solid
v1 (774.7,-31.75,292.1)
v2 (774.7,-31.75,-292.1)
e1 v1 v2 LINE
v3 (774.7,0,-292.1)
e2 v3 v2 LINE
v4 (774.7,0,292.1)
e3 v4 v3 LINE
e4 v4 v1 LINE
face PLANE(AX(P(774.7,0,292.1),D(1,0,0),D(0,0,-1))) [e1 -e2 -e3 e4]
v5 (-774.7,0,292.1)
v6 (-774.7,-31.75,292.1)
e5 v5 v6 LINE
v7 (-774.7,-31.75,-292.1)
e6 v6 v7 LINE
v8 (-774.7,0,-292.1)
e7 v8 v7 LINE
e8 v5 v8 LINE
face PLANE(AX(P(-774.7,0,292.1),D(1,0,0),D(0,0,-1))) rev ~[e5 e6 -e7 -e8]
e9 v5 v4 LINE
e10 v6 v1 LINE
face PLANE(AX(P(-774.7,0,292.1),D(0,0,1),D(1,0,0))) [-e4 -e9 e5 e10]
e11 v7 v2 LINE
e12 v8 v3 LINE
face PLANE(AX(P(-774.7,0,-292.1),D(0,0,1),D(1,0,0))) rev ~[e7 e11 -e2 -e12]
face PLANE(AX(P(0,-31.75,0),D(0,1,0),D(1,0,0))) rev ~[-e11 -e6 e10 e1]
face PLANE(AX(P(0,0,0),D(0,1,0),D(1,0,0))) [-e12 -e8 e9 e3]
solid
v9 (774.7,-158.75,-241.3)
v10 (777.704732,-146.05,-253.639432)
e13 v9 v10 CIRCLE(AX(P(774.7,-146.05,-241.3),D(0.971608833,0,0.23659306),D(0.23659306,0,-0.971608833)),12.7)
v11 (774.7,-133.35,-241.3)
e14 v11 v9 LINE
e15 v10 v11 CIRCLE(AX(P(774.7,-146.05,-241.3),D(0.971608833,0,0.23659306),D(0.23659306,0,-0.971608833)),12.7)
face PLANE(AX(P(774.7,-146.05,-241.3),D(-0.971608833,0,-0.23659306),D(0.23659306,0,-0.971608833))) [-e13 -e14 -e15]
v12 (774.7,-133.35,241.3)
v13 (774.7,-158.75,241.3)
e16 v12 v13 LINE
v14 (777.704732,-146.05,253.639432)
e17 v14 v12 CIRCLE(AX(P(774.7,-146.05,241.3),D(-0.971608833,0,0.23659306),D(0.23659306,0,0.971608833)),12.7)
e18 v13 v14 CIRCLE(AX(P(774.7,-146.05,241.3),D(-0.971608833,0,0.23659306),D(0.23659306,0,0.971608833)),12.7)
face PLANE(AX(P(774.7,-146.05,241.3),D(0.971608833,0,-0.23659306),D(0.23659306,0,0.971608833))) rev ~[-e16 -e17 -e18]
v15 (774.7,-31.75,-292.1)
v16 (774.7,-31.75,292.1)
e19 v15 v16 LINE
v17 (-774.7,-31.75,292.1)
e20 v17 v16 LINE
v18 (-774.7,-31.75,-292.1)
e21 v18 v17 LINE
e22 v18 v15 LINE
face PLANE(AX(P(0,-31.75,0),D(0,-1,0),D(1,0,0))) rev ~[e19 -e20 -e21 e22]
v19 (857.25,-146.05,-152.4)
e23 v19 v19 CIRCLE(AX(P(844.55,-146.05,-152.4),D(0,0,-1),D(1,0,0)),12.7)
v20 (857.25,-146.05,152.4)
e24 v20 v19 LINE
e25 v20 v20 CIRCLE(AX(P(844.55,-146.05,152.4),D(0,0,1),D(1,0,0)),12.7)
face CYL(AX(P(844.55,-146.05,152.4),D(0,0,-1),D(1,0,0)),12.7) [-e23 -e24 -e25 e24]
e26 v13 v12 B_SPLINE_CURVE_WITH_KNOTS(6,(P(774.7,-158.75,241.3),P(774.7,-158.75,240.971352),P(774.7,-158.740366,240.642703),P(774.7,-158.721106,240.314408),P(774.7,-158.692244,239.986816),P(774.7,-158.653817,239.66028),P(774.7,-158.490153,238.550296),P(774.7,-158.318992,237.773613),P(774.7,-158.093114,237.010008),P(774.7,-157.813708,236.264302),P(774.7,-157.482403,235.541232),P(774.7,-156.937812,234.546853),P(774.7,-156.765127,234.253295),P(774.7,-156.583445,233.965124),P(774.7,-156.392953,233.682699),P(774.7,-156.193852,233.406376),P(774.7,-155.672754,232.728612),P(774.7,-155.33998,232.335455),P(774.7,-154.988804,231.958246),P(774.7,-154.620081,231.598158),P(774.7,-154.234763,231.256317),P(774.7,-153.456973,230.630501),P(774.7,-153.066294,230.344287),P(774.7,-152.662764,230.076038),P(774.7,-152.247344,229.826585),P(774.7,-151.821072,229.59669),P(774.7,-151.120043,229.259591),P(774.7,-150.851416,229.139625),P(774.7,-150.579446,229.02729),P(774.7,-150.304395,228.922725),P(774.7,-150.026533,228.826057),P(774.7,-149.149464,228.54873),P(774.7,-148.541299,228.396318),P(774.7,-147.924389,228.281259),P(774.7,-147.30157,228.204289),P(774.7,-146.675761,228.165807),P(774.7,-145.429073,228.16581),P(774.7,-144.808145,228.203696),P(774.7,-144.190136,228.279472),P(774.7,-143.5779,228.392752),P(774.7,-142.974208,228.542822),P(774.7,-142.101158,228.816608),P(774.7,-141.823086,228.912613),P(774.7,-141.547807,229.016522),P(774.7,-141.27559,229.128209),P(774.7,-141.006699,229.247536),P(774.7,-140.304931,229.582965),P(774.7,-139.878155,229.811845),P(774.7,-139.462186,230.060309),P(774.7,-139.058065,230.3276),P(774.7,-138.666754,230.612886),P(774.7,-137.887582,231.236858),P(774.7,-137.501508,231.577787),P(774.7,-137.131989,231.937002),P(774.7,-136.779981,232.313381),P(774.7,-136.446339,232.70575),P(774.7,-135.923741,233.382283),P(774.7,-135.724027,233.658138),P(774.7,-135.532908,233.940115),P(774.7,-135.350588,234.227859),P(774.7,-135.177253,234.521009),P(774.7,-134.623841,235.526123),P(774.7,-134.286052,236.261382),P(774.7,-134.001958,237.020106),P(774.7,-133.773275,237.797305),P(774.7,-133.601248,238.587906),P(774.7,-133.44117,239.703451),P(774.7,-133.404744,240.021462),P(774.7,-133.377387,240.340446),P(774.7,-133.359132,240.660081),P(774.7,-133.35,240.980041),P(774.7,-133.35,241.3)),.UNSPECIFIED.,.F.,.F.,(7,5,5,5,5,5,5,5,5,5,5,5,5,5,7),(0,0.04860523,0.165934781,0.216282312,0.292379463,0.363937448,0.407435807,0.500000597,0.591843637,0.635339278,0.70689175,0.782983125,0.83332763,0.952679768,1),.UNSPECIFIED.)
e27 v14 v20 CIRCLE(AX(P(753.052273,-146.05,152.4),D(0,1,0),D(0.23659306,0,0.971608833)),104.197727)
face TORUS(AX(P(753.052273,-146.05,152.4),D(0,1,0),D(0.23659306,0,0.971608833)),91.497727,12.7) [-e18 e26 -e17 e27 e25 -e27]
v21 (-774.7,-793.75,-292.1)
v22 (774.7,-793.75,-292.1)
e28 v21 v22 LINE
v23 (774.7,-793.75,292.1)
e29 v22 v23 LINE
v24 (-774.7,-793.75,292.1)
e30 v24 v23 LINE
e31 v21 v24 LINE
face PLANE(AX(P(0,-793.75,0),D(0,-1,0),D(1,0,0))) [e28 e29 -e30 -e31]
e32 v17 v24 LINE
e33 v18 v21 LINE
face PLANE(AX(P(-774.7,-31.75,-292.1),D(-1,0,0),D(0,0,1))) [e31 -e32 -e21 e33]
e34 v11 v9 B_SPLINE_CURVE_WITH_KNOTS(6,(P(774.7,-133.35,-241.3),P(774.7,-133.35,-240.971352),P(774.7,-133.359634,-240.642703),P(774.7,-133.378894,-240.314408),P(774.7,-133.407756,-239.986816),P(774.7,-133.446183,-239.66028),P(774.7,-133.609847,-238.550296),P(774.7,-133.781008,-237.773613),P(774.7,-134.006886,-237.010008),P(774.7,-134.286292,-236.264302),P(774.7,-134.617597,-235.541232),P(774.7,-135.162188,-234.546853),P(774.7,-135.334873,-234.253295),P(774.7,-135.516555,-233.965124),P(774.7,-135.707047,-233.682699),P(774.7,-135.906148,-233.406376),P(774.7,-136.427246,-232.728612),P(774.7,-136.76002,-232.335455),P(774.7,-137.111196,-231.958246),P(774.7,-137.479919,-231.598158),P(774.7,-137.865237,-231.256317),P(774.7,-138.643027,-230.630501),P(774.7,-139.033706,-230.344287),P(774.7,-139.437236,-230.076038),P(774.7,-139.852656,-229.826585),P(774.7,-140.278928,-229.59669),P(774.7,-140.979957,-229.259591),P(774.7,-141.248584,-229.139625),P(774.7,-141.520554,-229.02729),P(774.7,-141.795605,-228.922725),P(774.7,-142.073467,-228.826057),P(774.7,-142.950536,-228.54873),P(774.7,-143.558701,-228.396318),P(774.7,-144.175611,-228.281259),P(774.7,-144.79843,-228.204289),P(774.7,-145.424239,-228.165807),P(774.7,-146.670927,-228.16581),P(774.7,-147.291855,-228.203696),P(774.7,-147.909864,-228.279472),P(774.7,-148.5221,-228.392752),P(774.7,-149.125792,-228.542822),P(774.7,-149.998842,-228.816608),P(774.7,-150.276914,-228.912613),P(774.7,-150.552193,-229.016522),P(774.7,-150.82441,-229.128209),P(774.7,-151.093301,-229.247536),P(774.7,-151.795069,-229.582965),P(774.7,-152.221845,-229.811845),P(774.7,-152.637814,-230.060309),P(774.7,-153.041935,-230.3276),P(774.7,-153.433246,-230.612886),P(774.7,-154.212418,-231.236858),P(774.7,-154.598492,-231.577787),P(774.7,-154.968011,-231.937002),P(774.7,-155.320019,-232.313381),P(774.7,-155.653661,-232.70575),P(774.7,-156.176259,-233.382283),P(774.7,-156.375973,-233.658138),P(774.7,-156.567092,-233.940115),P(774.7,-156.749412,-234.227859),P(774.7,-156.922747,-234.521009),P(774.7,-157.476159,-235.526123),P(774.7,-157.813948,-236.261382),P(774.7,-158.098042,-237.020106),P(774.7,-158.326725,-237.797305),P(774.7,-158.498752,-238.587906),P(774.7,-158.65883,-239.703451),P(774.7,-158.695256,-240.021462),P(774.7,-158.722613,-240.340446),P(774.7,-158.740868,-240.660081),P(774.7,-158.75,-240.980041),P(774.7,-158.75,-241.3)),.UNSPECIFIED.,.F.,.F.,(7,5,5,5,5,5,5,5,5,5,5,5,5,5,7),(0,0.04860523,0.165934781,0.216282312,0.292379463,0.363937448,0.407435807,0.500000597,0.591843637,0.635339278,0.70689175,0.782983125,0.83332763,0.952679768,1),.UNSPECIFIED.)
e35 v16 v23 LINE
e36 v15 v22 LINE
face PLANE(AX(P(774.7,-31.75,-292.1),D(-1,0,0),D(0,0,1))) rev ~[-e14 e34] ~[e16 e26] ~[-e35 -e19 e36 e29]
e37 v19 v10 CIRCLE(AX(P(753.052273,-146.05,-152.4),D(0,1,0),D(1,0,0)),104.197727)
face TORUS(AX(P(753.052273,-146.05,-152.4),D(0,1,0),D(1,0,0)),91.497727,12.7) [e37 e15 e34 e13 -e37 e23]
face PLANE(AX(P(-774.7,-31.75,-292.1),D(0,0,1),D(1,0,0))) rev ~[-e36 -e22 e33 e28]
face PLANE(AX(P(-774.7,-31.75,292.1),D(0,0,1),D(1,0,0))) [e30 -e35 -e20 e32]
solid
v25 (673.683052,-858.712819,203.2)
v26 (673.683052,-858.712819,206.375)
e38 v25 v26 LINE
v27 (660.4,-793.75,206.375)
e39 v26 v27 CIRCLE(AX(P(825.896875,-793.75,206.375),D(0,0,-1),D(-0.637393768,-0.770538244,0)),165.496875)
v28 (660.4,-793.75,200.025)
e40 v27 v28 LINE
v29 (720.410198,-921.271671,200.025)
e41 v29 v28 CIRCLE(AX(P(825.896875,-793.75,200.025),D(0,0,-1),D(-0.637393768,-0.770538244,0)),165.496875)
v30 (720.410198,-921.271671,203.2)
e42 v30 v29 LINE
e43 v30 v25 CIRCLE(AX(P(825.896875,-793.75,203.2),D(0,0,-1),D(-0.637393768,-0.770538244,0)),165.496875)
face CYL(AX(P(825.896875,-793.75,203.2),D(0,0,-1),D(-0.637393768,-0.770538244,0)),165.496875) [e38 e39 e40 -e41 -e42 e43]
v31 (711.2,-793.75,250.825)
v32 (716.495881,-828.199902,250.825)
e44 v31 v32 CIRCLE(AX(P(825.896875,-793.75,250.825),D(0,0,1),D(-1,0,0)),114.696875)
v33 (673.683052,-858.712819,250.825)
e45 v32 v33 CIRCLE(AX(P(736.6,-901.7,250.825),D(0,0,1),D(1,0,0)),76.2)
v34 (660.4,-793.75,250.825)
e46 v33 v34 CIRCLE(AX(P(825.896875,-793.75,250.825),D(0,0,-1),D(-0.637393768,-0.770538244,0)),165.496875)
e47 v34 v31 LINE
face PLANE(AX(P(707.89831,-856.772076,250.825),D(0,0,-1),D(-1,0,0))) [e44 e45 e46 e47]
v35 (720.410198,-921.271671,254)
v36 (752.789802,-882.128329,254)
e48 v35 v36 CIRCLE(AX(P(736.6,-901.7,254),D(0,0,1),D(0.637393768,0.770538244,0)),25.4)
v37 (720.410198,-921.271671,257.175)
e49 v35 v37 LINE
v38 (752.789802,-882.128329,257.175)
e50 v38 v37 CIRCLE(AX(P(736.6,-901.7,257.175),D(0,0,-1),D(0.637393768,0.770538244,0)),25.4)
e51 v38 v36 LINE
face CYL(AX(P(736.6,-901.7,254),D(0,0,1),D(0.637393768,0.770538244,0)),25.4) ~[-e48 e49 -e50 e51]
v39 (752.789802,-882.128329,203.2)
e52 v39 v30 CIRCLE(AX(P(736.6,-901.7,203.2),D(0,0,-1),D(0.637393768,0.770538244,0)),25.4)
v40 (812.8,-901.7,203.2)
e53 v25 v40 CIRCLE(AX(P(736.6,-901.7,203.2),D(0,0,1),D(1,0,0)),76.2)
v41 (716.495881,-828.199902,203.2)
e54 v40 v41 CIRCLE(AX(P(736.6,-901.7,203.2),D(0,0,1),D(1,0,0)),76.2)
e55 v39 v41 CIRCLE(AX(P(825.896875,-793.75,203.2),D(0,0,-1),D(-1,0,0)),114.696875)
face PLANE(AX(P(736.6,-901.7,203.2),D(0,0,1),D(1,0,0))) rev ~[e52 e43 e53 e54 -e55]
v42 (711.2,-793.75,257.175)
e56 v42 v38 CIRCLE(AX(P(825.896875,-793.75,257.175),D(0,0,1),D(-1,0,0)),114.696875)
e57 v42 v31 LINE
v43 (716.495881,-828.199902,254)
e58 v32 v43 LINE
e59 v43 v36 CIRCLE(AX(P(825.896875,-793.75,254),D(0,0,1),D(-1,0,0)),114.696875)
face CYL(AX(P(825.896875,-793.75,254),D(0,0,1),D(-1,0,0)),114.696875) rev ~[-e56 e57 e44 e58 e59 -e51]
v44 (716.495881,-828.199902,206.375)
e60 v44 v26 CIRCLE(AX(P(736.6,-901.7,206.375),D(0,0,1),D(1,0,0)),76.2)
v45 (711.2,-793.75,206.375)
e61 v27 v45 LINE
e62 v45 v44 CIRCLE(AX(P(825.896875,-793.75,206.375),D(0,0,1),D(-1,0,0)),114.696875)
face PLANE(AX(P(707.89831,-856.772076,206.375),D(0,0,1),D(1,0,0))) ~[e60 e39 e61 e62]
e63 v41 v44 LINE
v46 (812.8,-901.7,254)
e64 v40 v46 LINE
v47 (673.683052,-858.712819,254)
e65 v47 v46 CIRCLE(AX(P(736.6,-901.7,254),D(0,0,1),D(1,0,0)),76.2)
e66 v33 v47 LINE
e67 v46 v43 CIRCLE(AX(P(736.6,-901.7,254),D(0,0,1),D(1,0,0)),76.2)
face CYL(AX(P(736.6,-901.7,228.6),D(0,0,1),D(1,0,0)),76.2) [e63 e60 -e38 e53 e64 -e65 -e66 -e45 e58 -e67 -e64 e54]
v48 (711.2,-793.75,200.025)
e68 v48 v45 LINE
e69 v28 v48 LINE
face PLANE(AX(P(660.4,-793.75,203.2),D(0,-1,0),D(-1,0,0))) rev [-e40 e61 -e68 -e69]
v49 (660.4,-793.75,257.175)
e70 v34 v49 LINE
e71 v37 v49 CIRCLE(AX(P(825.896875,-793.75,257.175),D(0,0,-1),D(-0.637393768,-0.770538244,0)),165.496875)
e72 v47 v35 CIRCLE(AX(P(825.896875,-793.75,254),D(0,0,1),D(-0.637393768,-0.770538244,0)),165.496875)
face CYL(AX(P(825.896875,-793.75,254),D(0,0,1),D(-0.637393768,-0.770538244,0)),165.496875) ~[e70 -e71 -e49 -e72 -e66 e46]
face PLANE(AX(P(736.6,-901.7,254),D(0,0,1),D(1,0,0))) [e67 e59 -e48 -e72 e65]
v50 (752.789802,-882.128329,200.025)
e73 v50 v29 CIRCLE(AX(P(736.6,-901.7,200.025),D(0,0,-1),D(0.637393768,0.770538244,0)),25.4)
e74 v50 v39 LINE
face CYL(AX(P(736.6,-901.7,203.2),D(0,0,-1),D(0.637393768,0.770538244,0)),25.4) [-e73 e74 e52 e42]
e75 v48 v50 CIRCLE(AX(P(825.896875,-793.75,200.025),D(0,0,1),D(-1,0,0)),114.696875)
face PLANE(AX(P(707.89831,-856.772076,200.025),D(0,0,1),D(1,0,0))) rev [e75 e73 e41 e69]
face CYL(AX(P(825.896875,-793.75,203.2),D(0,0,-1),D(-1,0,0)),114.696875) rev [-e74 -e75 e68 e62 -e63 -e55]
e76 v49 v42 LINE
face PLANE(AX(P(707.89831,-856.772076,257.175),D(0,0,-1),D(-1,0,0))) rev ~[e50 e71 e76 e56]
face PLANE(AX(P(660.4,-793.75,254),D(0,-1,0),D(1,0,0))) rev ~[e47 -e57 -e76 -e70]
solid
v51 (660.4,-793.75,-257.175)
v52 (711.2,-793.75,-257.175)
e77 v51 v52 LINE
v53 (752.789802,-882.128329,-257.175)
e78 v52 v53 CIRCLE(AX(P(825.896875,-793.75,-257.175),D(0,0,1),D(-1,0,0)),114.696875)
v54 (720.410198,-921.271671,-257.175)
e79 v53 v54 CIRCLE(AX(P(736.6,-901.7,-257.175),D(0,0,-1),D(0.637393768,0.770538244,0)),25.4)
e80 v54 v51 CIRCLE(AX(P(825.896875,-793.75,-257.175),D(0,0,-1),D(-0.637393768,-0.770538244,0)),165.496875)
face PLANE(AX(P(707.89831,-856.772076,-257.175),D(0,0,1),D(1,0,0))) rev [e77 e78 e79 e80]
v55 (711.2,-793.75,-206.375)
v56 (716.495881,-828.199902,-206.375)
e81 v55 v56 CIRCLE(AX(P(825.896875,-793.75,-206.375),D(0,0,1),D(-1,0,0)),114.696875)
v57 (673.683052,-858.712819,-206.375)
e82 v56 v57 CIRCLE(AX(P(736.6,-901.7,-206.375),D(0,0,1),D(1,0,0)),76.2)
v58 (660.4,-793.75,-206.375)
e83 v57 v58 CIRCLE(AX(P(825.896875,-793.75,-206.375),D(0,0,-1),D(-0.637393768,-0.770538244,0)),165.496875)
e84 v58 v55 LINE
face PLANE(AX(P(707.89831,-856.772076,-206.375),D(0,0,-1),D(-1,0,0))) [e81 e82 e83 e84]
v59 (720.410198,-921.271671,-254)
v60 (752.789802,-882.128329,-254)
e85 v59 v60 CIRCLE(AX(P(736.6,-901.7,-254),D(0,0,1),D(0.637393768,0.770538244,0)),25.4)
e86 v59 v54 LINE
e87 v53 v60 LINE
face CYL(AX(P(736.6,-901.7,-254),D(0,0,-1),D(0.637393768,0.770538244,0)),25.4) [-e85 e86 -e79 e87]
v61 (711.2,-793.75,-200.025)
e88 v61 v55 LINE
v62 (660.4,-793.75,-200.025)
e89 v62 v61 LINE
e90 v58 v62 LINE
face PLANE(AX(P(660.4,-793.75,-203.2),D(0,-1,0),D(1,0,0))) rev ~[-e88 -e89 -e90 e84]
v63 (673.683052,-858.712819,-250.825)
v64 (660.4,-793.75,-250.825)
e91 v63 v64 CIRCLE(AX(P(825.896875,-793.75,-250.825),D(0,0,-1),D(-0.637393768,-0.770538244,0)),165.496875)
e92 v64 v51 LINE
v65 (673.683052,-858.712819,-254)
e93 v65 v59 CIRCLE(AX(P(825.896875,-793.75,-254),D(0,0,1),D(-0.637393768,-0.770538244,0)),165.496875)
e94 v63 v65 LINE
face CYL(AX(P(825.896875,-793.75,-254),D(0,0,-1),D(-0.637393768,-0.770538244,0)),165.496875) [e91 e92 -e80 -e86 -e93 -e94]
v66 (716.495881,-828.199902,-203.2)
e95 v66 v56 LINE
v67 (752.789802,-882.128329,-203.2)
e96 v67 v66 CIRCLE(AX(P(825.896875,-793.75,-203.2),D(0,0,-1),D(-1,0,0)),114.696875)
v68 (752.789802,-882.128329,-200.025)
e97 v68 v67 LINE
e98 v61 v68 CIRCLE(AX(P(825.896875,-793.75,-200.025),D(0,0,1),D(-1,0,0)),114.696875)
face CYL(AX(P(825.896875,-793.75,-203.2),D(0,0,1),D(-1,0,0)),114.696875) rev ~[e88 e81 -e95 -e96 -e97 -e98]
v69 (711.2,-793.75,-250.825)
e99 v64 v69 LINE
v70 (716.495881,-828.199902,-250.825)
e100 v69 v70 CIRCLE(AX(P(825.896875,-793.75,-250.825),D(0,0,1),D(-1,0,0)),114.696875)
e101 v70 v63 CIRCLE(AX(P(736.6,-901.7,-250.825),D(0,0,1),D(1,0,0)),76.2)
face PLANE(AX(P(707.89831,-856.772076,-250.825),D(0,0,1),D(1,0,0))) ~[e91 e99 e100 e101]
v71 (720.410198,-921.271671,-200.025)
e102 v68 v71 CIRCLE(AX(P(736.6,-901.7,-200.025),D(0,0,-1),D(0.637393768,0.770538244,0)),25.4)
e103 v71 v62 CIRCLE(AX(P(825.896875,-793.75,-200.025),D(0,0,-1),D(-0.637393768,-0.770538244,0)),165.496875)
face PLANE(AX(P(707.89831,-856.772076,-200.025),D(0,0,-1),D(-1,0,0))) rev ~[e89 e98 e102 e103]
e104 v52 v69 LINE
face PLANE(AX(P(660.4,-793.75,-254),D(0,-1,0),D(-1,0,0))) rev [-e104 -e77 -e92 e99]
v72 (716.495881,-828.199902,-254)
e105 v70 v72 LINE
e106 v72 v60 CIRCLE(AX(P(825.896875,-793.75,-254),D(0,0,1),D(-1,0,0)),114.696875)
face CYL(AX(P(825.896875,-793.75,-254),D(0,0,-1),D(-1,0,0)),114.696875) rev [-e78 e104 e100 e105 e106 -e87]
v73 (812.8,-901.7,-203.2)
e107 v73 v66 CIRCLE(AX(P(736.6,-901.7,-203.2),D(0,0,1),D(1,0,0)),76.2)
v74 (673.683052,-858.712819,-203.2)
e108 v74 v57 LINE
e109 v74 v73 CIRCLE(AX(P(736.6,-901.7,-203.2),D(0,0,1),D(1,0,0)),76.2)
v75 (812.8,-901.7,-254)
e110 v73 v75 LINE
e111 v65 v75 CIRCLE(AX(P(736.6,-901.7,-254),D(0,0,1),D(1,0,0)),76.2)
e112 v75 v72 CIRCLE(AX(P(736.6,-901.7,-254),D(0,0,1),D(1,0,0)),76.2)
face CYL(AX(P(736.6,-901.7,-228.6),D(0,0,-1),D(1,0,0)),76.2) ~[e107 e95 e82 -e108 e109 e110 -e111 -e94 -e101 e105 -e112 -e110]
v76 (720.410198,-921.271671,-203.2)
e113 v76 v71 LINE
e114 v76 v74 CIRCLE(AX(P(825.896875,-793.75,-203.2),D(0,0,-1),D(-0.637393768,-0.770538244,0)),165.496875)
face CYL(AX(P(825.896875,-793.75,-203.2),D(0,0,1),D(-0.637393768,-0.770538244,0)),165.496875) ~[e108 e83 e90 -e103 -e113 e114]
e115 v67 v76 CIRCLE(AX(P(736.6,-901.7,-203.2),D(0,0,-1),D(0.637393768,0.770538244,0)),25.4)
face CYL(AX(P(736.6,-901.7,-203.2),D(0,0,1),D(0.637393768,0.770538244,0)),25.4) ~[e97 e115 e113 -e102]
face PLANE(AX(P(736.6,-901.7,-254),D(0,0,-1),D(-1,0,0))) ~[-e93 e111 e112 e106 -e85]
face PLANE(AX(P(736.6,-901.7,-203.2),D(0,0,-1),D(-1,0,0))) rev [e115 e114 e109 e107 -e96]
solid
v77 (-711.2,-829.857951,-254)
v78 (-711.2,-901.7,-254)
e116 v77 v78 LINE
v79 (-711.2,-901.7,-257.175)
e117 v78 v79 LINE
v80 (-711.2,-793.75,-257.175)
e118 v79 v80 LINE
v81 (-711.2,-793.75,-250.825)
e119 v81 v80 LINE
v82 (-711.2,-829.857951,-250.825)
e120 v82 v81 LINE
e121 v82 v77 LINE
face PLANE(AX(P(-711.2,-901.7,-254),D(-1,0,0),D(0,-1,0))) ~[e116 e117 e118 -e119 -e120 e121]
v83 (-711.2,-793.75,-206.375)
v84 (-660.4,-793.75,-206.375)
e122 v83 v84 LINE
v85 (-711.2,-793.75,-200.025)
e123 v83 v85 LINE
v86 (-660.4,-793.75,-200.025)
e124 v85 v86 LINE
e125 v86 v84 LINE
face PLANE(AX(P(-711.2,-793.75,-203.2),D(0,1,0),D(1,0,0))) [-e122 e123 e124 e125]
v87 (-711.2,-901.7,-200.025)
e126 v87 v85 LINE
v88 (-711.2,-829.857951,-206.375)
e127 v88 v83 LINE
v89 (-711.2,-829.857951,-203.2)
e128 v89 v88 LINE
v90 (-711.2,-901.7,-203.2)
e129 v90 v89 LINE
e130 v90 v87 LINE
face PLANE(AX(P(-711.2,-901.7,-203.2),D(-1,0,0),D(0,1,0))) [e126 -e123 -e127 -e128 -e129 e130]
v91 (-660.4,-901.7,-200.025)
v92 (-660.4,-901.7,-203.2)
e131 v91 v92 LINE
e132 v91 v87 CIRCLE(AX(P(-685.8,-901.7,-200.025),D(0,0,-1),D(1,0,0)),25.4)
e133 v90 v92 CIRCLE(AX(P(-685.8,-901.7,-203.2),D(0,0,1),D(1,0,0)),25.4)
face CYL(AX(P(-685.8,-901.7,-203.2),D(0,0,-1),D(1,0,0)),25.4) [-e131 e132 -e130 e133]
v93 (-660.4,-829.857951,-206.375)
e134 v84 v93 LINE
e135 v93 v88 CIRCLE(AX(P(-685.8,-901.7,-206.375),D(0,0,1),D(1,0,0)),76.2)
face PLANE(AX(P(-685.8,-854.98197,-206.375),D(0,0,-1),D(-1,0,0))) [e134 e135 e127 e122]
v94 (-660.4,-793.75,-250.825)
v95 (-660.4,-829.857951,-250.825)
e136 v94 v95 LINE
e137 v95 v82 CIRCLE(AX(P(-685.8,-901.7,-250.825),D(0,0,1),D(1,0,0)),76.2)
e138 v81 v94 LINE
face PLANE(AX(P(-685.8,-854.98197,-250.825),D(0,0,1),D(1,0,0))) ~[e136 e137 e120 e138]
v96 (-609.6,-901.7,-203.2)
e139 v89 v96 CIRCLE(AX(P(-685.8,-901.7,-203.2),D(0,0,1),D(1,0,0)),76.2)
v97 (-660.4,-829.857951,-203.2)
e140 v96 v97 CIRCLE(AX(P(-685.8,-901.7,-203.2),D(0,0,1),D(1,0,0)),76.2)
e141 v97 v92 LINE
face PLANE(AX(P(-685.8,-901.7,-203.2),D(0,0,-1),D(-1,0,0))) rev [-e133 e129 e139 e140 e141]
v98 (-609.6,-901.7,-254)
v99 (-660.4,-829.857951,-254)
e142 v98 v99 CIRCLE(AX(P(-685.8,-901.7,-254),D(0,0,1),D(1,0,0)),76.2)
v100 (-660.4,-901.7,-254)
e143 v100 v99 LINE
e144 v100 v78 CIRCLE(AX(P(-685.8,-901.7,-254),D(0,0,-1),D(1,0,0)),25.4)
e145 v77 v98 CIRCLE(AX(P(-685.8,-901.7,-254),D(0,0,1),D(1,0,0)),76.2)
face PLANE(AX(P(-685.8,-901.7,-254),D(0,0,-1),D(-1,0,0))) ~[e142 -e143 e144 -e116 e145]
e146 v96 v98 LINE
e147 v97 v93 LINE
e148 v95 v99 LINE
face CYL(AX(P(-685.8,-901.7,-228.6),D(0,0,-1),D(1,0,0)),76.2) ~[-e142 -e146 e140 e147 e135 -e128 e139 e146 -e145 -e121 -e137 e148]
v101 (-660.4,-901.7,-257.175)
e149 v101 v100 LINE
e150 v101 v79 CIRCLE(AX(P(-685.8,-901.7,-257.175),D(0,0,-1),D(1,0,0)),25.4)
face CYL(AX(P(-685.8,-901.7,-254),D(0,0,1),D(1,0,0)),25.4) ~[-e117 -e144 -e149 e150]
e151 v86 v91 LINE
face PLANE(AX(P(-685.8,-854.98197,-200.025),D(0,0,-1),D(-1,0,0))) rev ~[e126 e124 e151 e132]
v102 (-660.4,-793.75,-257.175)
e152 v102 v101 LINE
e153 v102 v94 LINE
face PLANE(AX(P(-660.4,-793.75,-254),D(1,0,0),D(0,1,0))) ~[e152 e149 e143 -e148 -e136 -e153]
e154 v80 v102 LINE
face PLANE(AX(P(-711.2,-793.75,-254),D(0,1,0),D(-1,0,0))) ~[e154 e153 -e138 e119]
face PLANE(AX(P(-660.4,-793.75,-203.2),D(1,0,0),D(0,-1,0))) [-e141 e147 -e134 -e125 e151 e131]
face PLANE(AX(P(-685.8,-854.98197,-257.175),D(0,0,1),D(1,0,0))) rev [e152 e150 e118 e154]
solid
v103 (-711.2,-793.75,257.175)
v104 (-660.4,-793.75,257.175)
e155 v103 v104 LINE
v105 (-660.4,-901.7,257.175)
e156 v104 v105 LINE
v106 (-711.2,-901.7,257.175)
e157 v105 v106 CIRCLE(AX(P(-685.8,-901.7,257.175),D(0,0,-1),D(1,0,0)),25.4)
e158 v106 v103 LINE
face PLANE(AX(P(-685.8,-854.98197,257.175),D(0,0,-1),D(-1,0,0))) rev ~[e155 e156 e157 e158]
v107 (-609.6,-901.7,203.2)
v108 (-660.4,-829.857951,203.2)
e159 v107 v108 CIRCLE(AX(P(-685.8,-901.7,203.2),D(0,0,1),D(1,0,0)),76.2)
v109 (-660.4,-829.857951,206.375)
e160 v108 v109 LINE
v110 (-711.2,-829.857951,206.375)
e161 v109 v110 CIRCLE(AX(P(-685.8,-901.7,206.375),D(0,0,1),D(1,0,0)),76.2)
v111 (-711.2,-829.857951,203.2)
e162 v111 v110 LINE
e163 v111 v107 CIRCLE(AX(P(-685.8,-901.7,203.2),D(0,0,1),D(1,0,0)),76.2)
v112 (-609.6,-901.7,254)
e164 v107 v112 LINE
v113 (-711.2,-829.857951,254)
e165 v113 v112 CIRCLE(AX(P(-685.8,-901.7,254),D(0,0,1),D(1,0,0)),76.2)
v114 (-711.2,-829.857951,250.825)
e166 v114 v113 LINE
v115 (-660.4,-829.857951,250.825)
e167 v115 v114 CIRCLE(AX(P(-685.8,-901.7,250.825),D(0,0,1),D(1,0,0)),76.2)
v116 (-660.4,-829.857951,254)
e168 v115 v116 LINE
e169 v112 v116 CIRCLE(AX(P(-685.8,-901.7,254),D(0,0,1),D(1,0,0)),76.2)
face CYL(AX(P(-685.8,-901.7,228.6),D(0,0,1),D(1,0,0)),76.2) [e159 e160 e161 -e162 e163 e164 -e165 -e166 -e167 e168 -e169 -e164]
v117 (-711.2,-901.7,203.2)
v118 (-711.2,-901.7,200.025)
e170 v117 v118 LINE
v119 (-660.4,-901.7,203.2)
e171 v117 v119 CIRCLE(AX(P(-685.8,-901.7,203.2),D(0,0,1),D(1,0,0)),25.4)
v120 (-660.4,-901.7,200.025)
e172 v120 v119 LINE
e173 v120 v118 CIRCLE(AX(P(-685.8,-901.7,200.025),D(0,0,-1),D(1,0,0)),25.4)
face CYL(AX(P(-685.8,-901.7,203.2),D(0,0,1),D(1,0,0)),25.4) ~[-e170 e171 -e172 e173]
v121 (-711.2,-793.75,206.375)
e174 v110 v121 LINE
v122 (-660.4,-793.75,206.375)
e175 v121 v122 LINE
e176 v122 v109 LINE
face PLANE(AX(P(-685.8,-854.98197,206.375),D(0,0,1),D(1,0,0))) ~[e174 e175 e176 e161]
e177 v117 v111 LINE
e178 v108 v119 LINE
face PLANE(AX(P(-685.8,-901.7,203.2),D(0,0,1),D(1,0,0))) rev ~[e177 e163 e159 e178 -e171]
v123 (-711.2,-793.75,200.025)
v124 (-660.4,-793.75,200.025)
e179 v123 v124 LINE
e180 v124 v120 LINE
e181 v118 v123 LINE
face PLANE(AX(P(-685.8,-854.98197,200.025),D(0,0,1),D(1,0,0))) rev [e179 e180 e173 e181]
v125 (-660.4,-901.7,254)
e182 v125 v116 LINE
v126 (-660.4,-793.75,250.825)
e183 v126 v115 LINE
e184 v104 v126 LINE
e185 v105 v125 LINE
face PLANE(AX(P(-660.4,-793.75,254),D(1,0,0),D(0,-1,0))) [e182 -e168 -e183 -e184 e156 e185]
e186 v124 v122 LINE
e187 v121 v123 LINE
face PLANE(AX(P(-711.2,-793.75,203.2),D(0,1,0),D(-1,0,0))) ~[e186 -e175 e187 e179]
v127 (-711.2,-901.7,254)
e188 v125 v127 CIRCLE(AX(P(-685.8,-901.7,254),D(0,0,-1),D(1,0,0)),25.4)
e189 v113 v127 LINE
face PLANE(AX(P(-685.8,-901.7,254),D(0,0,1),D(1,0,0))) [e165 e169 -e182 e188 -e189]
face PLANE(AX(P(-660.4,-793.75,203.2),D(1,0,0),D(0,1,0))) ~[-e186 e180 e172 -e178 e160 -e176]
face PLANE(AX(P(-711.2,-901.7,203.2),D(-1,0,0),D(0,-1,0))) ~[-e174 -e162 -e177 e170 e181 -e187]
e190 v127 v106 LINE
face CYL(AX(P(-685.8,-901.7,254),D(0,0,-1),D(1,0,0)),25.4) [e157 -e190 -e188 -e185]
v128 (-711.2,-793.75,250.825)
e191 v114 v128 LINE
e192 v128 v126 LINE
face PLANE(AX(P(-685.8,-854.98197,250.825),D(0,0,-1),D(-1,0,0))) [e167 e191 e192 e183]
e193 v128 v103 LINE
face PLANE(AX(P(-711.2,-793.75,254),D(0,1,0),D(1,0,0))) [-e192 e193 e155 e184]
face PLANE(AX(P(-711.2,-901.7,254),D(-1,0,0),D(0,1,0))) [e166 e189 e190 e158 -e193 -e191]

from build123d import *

# Parameters (mm, degrees)
SKETCH1_W             = 1549.4
SKETCH1_H             = 584.2
BOSS_EXTRUDE1_DEPTH   = 31.75
SKETCH2_W             = 1549.4
SKETCH2_H             = 584.2
BOSS_EXTRUDE2_DEPTH   = 762
SWEEP1_PROFILE_R      = 12.7
SKETCH13_R            = 76.2
BOSS_EXTRUDE3_DEPTH   = 25.4
BOSS_EXTRUDE3_2_DEPTH = 25.4
BOSS_EXTRUDE4_DEPTH   = 3.175


with BuildPart() as part:
    # Sketch1 → Boss-Extrude1 (new body)
    with BuildSketch(Plane(origin=(0, 0, 0), x_dir=(1, 0, 0), z_dir=(0, 1, 0))):
        Rectangle(SKETCH1_W, SKETCH1_H)
    extrude(amount=-BOSS_EXTRUDE1_DEPTH)


with BuildPart() as body_2:
    # Sketch2 → Boss-Extrude2 (new body)
    with BuildSketch(Plane.XZ.offset(31.75)):
        Rectangle(SKETCH2_W, SKETCH2_H)
    extrude(amount=BOSS_EXTRUDE2_DEPTH)

    # Sweep1: sweep along a path in Sketch3
    with BuildLine(Plane(origin=(0, -146.05, 0), x_dir=(1, 0, 0), z_dir=(0, 1, 0))) as sweep1_path:
        ThreePointArc((774.7, -241.3), (824.998613642, -208.929267862), (844.55, -152.4))
        Line((844.55, -152.4), (844.55, 152.4))
        ThreePointArc((844.55, 152.4), (824.998613642, 208.929267862), (774.7, 241.3))
    # Sweep1 profile (on start of the path) → Sweep1 (sweep)
    with BuildSketch(Plane(origin=(774.7, -146.05, 241.3), x_dir=(0.2365930599369072, 0, 0.9716088328075714), z_dir=(0.9716088328075714, 0, -0.2365930599369072))):
        Circle(SWEEP1_PROFILE_R)
    sweep(path=sweep1_path.line)


with BuildPart() as body_3:
    # Sketch13 → Boss-Extrude3 (new, symmetric)
    with BuildSketch(Plane.XY.offset(228.6)):
        with Locations((736.6, -901.7)):
            Circle(SKETCH13_R)
    extrude(amount=BOSS_EXTRUDE3_DEPTH, both=True)



with BuildPart() as body_4:
    # Sketch13 → Boss-Extrude3 2 (new, symmetric)
    with BuildSketch(Plane.XY.offset(228.6)):
        with Locations((-685.8, -901.7)):
            Circle(SKETCH13_R)
    extrude(amount=BOSS_EXTRUDE3_2_DEPTH, both=True)


with BuildPart() as body_3_1:
    add(body_3.part)

    add(body_4.part)  # Boss-Extrude4 merges body 4
    # Sketch14 → Boss-Extrude4 (add, symmetric)
    with BuildSketch(Plane.XY.offset(254)):
        with BuildLine():
            Line((-711.2, -793.75), (-660.4, -793.75))
            Line((-660.4, -793.75), (-660.4, -901.7))
            ThreePointArc((-660.4, -901.7), (-685.8, -927.1), (-711.2, -901.7))
            Line((-711.2, -901.7), (-711.2, -793.75))
        make_face()
        with BuildLine():
            Line((660.4, -793.75), (711.2, -793.75))
            ThreePointArc((711.2, -793.75), (722.116997416, -842.587589451), (752.7898017, -882.128328612))
            ThreePointArc((752.7898017, -882.128328612), (756.171671388, -917.8898017), (720.4101983, -921.271671388))
            ThreePointArc((720.4101983, -921.271671388), (676.152207344, -864.218078897), (660.4, -793.75))
        make_face()
    boss_extrude4 = extrude(amount=BOSS_EXTRUDE4_DEPTH, both=True)

    # Mirror1: Boss-Extrude4 across plane
    add(boss_extrude4.mirror(Plane.XY.offset(228.6)))


with BuildPart() as body_4_2:
    # Mirror2: mirrored copy
    add(body_3_1.part.mirror(Plane.XY))


solid = Compound([part.part, body_2.part, body_3_1.part, body_4_2.part])
